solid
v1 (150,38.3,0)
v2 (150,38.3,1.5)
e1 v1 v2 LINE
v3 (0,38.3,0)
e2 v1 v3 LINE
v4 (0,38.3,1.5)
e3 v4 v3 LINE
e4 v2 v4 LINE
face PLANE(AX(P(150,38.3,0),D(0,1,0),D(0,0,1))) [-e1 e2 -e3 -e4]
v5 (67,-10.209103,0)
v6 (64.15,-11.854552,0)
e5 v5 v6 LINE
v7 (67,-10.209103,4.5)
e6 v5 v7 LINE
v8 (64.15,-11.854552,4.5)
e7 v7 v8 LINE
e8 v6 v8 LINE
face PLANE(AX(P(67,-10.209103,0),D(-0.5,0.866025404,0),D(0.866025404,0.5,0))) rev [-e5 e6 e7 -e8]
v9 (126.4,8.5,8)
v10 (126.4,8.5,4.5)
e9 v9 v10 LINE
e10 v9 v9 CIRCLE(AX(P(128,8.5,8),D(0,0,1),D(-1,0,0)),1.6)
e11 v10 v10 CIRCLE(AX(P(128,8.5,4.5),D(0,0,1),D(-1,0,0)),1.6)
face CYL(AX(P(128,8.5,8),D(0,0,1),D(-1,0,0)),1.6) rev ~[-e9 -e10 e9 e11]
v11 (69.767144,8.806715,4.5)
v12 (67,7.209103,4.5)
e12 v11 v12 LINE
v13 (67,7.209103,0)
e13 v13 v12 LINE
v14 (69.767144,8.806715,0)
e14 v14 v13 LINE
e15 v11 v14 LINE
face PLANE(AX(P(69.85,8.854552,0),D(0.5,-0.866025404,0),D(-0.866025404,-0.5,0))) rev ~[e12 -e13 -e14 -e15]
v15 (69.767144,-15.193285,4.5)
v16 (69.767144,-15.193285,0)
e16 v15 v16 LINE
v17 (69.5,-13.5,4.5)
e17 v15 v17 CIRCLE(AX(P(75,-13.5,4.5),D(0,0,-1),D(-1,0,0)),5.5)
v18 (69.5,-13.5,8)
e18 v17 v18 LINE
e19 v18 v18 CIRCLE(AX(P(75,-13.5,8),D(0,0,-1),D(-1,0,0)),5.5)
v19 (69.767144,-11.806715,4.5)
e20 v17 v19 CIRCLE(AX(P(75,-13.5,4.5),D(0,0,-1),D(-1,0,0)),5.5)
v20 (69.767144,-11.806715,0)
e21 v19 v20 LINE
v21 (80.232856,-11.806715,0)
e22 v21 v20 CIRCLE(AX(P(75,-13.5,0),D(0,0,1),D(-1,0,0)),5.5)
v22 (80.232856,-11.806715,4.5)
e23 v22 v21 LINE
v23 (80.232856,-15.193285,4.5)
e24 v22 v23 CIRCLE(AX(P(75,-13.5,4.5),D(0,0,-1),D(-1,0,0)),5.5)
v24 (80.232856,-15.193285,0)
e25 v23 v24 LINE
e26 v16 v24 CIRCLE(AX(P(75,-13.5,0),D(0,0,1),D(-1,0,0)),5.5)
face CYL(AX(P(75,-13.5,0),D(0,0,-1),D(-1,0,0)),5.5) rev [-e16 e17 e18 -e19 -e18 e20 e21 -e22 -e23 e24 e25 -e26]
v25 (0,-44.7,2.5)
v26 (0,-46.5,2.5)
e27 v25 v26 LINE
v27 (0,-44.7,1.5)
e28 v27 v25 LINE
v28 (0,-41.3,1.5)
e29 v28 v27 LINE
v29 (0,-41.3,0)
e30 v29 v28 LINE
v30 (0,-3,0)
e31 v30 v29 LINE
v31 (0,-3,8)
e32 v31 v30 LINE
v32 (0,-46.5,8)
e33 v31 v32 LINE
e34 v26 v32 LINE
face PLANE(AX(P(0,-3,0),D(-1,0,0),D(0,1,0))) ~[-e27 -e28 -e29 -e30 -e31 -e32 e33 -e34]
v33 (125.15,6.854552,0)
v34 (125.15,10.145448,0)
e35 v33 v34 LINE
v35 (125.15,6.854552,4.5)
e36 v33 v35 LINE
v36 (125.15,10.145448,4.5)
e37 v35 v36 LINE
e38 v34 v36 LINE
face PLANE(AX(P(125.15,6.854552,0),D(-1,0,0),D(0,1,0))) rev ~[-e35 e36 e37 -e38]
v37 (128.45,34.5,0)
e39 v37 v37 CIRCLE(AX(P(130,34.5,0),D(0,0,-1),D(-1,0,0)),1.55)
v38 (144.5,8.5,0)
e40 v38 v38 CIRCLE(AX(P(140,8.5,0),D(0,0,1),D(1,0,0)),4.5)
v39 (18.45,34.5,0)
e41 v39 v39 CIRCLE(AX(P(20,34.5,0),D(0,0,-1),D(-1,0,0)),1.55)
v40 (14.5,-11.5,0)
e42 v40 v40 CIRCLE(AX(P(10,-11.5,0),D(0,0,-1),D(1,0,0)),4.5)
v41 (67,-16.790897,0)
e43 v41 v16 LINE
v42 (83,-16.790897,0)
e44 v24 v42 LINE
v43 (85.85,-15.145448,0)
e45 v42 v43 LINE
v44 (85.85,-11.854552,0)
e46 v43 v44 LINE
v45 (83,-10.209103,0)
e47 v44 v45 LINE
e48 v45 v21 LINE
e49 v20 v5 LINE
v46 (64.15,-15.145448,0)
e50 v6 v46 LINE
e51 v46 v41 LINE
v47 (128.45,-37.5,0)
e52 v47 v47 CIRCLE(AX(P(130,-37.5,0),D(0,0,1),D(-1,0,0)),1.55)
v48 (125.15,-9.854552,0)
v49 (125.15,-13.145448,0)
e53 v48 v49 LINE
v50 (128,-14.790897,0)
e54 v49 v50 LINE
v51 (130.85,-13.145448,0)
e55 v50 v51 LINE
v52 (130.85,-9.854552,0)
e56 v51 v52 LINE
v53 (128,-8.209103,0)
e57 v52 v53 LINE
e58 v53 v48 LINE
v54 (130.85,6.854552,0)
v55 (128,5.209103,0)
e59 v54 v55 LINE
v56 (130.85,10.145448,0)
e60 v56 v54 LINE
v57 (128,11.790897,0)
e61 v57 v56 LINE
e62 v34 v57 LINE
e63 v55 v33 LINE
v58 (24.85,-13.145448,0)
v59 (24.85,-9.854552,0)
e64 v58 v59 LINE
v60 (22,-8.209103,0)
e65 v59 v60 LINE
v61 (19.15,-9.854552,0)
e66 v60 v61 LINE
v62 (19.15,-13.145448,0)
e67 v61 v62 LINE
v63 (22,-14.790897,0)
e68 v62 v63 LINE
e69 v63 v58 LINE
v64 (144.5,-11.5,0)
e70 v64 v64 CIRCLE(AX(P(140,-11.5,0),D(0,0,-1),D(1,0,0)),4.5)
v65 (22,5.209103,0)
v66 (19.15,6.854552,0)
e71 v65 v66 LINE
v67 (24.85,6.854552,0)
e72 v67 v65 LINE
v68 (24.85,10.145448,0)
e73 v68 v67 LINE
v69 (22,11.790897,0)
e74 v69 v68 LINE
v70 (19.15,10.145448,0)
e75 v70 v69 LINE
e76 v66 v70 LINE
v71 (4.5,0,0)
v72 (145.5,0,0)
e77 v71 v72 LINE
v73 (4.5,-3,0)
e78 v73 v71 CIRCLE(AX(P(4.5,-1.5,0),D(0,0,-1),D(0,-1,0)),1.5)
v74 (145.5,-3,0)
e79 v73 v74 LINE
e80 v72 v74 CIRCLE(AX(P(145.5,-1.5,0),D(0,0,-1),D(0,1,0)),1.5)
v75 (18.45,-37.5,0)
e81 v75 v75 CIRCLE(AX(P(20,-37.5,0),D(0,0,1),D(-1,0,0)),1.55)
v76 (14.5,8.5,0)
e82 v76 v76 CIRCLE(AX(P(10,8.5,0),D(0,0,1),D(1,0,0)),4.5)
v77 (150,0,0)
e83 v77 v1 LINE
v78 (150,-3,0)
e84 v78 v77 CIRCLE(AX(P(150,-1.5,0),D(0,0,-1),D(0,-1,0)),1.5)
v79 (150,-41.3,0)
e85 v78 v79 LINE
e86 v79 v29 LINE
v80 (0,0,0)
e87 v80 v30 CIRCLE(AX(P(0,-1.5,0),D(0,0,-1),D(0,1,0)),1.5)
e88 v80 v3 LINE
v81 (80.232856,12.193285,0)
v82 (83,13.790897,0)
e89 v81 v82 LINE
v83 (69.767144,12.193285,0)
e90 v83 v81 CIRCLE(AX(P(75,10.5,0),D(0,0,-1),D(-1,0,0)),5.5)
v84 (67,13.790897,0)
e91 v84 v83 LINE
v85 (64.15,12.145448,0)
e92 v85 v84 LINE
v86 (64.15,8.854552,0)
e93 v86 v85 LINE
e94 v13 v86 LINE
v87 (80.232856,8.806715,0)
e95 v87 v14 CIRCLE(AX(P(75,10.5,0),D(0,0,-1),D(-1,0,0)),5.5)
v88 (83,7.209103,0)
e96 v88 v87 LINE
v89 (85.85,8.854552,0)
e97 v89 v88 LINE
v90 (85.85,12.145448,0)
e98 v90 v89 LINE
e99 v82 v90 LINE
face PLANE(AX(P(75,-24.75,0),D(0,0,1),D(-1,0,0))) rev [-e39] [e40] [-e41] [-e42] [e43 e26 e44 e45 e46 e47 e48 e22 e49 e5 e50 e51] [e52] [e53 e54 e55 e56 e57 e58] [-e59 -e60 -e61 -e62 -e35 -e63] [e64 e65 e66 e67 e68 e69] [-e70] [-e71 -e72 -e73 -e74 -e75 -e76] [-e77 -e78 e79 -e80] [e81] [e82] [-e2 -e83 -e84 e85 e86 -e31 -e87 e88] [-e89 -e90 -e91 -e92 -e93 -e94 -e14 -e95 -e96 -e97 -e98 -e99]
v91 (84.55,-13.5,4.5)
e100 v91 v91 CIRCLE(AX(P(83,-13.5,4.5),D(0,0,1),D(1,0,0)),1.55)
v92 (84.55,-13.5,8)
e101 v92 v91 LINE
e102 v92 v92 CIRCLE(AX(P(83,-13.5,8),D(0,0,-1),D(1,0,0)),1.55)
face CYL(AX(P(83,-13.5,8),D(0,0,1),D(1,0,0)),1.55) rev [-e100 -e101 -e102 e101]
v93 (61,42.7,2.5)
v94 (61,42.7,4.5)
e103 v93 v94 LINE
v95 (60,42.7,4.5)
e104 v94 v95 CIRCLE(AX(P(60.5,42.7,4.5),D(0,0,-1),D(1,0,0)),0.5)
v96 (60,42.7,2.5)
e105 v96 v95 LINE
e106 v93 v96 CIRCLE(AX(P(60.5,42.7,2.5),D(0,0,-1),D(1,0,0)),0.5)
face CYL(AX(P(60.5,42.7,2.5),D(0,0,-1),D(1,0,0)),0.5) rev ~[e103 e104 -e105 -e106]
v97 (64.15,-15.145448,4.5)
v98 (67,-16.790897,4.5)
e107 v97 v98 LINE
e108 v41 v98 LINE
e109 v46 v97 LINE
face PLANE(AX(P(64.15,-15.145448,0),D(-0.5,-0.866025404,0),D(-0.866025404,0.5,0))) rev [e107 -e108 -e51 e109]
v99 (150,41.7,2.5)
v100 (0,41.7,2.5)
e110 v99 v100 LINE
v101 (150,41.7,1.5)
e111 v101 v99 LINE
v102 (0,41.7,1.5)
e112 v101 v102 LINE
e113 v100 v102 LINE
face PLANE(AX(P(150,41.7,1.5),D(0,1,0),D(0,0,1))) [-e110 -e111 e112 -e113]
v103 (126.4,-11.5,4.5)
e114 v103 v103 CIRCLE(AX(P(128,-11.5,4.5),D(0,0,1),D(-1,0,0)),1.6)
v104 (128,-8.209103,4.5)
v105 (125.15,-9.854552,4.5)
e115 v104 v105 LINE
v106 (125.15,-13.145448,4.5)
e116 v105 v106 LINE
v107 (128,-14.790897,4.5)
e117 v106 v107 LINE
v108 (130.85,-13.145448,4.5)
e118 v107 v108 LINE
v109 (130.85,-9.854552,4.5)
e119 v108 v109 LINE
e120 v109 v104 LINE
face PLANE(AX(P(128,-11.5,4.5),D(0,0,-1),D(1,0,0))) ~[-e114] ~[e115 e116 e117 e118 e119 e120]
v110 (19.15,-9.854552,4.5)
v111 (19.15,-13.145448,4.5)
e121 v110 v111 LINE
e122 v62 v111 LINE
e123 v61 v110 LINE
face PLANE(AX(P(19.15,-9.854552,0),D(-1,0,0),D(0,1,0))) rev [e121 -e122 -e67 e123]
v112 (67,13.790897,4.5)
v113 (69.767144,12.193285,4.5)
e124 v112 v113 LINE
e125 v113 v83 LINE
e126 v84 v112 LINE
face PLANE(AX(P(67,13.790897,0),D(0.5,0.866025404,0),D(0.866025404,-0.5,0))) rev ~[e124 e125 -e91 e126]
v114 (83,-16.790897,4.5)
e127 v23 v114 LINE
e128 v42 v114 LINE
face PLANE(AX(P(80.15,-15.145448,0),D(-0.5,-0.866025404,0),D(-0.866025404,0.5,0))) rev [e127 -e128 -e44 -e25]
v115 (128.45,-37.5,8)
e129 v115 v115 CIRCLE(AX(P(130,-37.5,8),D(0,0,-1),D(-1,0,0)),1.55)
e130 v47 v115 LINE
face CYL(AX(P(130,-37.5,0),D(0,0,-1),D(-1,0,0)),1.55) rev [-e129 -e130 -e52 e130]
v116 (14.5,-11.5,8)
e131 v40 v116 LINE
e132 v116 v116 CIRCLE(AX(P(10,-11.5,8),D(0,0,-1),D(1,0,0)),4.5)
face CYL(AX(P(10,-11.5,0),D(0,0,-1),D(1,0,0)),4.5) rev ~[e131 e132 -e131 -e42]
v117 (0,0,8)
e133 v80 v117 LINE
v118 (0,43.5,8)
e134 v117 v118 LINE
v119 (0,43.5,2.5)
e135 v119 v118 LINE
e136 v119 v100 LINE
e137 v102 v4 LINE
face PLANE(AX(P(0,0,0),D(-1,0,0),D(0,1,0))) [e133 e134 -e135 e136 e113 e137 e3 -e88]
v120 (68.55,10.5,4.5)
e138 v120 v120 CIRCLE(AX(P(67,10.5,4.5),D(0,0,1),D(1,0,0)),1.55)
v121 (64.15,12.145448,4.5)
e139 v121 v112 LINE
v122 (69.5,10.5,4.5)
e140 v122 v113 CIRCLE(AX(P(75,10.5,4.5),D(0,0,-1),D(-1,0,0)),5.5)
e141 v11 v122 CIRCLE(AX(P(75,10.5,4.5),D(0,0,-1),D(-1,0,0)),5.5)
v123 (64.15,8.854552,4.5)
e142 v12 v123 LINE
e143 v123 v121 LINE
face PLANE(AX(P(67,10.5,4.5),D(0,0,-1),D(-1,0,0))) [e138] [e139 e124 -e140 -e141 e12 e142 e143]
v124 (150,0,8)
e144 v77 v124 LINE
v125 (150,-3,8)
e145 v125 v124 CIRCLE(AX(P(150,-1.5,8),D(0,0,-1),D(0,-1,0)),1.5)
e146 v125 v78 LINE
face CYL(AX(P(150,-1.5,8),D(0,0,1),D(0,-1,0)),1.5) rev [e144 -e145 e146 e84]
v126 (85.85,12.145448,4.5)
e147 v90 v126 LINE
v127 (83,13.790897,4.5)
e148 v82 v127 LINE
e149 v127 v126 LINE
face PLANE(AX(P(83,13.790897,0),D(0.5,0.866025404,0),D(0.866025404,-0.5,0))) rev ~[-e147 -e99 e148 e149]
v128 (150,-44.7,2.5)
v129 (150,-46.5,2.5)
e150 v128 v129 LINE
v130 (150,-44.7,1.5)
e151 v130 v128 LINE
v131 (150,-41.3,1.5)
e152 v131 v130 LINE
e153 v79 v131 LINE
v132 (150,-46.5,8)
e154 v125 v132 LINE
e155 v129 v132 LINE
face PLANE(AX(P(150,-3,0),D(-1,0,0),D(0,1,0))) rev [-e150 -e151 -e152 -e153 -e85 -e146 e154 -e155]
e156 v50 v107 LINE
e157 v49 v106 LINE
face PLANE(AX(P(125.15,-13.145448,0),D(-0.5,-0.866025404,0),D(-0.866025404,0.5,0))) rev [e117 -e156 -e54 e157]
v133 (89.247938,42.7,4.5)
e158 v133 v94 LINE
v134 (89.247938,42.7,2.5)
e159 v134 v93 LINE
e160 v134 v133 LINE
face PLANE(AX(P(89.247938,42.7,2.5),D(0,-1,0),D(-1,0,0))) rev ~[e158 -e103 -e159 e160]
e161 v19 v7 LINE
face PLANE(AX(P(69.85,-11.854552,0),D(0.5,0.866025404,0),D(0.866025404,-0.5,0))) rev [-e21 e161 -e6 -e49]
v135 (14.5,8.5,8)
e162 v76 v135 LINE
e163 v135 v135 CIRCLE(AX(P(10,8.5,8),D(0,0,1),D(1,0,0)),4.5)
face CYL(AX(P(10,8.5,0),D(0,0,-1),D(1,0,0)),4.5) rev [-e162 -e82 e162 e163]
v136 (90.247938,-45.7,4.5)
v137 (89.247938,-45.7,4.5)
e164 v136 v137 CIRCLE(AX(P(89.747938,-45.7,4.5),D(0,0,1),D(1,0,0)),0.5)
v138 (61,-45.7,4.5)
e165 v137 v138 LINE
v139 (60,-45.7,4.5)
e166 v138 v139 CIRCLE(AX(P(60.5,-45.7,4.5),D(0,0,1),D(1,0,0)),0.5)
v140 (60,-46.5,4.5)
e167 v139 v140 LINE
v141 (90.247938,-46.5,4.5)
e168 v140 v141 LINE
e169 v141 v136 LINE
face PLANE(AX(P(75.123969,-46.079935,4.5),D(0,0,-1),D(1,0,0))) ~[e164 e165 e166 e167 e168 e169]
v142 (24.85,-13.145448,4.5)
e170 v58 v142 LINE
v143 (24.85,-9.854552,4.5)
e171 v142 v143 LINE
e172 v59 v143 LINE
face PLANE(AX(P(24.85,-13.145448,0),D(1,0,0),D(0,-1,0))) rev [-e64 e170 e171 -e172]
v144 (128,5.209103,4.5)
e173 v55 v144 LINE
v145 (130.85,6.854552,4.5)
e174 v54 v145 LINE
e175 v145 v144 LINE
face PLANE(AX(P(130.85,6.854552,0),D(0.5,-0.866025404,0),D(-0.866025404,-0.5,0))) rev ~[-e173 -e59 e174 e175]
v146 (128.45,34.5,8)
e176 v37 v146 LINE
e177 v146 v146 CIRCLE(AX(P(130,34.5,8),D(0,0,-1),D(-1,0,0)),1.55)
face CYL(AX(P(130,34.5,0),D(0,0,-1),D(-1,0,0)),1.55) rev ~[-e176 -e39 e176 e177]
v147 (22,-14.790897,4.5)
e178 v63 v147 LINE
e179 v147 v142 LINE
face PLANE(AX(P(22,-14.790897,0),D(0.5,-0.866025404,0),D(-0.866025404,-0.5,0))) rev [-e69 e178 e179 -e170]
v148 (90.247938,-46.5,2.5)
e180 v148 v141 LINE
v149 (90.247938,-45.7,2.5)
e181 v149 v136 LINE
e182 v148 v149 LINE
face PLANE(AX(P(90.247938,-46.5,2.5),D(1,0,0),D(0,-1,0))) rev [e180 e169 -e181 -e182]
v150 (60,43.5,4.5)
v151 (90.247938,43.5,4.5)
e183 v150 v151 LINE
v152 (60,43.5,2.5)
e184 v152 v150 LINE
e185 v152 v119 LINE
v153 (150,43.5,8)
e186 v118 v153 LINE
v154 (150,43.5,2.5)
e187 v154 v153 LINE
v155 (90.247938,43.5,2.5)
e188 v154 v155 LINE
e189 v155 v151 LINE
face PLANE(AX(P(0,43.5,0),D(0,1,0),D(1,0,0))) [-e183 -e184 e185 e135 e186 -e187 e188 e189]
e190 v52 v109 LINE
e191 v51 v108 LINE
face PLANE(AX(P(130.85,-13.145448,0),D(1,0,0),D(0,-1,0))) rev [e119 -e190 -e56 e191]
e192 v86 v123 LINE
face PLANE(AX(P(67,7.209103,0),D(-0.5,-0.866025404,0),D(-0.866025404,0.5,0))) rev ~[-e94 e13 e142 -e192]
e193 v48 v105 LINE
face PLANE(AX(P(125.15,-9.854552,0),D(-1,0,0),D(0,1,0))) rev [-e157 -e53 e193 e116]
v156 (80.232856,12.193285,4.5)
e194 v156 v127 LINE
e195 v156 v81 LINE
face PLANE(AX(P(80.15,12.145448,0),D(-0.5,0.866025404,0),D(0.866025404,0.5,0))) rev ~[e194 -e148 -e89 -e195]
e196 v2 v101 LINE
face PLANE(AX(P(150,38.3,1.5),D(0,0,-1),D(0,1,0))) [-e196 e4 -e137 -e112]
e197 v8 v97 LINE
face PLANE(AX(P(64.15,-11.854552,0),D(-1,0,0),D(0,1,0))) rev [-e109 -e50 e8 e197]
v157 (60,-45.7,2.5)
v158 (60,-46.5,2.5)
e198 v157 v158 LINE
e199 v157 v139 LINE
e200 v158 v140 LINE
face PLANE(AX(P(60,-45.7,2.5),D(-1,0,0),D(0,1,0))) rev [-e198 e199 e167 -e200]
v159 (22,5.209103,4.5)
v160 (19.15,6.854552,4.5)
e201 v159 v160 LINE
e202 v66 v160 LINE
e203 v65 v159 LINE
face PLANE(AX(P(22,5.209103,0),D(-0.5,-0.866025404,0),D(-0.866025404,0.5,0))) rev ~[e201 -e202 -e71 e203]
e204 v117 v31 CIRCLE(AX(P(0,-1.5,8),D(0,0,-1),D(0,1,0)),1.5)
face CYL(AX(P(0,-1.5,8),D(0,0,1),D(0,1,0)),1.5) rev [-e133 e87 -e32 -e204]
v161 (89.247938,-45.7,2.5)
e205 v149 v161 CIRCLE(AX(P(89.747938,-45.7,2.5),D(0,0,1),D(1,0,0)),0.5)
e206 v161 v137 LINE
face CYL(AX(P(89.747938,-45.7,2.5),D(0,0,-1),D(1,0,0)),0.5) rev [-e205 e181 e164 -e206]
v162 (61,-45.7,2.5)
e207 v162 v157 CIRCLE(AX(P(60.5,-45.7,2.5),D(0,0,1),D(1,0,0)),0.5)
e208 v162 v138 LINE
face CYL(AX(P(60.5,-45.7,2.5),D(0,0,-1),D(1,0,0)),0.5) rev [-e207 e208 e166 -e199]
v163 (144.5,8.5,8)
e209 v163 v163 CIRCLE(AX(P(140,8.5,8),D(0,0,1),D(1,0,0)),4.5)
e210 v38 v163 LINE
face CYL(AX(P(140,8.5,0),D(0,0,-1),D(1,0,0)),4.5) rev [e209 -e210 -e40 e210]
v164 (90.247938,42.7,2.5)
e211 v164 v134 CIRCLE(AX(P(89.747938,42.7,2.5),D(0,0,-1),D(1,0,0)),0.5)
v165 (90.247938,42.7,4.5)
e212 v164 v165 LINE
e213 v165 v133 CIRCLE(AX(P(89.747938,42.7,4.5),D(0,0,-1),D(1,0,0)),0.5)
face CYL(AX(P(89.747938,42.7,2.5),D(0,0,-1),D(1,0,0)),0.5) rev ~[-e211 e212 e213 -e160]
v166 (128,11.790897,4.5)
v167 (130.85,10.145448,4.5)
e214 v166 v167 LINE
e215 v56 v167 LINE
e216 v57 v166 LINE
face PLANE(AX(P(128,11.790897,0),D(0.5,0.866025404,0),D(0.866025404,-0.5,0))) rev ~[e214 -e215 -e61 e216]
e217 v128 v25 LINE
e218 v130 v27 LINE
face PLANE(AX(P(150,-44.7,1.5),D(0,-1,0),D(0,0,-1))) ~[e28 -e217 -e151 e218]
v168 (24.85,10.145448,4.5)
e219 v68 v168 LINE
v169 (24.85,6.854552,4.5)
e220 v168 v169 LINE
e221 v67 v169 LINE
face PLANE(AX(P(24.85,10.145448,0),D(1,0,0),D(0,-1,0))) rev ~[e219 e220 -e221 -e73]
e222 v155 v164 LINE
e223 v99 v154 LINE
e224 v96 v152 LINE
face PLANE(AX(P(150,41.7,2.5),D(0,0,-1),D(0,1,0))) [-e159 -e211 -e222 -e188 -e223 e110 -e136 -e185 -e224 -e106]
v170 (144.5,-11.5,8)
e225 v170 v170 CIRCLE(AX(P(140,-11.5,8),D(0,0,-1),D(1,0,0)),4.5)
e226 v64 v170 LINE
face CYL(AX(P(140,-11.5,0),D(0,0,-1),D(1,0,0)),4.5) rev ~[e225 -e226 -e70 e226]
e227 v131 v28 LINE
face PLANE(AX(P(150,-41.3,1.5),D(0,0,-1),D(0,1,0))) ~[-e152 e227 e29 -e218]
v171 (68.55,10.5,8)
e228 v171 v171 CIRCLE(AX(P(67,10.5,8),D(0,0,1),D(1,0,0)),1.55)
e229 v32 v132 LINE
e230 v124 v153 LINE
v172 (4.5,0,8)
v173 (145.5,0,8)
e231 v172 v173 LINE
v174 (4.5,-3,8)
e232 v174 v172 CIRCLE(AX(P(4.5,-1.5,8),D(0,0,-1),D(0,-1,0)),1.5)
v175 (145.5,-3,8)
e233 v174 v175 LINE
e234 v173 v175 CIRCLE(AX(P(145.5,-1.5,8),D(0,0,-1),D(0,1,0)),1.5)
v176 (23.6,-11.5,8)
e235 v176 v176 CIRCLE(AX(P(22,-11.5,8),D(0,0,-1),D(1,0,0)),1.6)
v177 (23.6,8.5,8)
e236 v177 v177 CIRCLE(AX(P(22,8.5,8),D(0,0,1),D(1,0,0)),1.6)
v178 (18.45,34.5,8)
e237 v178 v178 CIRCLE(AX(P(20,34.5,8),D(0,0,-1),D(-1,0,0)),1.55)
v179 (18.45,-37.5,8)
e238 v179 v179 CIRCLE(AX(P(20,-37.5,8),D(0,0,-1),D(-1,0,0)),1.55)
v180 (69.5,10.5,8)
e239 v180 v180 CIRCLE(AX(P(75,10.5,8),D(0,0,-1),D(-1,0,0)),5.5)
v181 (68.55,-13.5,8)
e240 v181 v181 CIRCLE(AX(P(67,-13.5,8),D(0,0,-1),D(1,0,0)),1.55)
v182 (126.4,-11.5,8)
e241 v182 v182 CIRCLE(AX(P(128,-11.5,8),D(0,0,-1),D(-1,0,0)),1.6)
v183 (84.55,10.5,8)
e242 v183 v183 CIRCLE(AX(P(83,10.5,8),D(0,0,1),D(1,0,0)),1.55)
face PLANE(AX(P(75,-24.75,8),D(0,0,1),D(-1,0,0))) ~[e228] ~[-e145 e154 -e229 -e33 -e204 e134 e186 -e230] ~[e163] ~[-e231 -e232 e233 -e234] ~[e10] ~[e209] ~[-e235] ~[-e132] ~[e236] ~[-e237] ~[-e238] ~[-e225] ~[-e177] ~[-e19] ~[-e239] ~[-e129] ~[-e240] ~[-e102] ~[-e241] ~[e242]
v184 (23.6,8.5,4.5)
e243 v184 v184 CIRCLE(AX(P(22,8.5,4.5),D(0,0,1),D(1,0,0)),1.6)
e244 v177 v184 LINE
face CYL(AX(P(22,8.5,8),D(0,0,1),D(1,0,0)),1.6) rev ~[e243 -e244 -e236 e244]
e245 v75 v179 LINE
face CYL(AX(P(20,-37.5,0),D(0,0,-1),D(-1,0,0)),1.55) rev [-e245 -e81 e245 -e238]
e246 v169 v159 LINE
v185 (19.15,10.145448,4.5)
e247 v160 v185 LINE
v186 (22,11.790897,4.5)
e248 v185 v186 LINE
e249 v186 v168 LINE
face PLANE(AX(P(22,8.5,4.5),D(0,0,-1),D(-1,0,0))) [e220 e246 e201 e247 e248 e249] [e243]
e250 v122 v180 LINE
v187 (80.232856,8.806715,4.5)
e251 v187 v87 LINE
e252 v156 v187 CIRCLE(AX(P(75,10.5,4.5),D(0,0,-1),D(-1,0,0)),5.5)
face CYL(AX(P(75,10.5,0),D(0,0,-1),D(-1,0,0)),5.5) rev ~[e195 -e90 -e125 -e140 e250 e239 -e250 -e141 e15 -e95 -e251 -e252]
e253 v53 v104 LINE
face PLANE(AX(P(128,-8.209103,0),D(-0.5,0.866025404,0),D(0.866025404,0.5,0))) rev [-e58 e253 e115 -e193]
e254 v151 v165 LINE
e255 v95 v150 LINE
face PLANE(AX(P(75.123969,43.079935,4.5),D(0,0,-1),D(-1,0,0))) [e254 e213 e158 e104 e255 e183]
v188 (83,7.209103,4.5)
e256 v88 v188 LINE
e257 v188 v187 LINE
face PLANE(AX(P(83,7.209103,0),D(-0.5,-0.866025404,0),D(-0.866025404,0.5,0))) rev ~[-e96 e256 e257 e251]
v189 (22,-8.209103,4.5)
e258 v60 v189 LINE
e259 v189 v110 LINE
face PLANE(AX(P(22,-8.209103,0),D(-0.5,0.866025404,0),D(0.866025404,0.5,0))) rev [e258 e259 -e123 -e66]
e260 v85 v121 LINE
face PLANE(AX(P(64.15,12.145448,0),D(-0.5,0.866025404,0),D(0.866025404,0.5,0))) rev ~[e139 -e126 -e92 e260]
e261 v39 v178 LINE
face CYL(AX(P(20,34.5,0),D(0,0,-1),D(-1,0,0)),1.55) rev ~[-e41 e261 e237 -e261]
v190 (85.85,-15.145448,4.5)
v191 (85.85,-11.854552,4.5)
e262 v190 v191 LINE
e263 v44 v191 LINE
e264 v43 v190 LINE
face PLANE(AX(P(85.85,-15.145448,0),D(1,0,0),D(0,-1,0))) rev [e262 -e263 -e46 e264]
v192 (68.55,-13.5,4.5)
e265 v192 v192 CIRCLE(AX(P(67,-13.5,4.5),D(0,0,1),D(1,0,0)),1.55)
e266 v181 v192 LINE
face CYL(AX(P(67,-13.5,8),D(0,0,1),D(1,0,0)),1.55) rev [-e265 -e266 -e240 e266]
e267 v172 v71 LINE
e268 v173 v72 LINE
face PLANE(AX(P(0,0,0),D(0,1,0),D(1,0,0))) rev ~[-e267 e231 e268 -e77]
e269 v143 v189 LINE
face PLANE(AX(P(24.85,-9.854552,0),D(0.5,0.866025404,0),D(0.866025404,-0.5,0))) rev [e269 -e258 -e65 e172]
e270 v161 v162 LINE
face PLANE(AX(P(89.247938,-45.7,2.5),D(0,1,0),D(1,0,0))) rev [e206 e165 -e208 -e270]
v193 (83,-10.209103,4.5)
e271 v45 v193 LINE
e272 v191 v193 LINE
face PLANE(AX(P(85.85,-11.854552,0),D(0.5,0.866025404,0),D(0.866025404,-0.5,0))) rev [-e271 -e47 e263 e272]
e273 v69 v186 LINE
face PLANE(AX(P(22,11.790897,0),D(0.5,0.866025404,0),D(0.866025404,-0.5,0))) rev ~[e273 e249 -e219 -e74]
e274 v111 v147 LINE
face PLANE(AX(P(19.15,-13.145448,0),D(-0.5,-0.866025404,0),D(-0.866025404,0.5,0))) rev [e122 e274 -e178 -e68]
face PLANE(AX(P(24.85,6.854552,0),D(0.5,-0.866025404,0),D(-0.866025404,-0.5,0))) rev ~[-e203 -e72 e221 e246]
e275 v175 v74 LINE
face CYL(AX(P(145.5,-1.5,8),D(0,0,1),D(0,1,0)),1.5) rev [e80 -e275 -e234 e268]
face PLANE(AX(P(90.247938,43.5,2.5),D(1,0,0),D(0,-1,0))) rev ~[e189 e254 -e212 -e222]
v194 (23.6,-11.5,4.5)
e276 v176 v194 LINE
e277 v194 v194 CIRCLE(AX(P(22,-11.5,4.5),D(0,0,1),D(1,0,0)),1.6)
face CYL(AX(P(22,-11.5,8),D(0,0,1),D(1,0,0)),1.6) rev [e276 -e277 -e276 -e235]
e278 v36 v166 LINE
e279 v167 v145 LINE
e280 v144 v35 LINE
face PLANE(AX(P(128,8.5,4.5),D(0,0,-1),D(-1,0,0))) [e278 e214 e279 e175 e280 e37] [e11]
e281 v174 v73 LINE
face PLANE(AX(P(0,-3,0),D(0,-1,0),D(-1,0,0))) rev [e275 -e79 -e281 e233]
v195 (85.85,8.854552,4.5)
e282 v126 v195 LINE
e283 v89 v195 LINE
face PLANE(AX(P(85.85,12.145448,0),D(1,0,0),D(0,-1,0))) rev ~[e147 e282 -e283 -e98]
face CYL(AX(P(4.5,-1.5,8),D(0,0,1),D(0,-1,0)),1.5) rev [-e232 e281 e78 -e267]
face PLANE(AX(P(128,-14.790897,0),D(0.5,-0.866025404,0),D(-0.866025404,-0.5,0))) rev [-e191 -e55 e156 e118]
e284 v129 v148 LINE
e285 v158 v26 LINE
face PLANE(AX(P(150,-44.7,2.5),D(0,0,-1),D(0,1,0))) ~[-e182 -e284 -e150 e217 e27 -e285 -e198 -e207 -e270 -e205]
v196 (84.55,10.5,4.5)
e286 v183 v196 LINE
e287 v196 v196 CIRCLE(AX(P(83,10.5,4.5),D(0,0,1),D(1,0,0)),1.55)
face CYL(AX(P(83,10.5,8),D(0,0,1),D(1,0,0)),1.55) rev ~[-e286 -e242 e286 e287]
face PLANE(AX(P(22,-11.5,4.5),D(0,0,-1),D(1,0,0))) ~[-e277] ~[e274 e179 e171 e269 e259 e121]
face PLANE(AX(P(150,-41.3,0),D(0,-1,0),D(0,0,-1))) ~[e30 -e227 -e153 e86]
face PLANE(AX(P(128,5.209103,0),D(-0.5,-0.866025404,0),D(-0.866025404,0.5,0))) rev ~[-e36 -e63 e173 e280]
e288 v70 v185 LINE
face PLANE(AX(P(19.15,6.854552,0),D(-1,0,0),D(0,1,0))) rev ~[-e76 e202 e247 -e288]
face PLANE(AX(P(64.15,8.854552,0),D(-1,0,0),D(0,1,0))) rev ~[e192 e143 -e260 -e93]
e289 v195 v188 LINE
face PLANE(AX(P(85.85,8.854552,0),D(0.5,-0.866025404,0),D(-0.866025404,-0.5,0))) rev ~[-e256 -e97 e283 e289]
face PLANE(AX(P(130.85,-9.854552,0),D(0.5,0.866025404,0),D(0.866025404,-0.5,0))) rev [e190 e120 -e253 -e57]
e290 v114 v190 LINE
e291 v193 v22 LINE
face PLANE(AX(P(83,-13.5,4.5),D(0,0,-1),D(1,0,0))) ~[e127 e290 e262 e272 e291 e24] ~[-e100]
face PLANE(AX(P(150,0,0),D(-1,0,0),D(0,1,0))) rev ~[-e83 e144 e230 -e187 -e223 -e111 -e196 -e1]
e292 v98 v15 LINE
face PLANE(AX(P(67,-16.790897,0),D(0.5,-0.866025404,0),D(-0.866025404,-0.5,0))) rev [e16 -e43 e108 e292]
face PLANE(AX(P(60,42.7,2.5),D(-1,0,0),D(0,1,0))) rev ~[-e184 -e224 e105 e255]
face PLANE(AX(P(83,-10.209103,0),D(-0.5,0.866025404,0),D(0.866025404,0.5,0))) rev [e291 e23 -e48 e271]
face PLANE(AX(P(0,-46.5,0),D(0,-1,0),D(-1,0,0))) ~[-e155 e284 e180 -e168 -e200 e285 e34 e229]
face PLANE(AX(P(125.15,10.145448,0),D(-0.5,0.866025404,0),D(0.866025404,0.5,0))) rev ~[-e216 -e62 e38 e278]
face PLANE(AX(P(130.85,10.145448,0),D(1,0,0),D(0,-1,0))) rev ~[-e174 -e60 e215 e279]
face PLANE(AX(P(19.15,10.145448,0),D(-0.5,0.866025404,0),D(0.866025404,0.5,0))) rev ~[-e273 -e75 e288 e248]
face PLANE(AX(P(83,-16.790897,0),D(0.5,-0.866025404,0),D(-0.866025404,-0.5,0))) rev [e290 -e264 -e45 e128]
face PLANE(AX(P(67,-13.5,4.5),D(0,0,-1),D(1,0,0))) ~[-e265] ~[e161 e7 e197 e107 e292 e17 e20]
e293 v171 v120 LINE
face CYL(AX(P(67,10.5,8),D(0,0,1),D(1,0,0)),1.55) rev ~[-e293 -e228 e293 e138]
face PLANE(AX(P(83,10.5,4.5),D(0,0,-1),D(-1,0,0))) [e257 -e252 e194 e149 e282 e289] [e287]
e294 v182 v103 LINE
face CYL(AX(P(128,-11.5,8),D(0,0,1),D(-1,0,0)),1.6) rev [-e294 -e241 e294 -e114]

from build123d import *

# Parameters (mm, degrees)
SKETCH_2_W           = 150
SKETCH_2_H           = 43.5
SKETCH_2_R           = 4.5
SKETCH_2_R_2         = 4.05
EXTRUDE_1_DEPTH      = 8
CUT_EXTRUDE_2_DEPTH  = 157.38494173
SKETCH_5_R           = 1.55
CUT_EXTRUDE_3_DEPTH  = 157.38494173
SKETCH_20_R          = 5.5
CUT_EXTRUDE_17_DEPTH = 157.38494173
SKETCH_29_R          = 1.6
CUT_EXTRUDE_18_DEPTH = 157.38494173
CUT_EXTRUDE_5_DEPTH  = 4.5
SKETCH_25_R          = 1.55
CUT_EXTRUDE_13_DEPTH = 157.38494173
CUT_EXTRUDE_11_DEPTH = 2
EXTRUDE_2_DEPTH      = 8


with BuildPart() as part:
    # 草图2 → 凸台-拉伸1 (new body)
    with BuildSketch(Plane.XY):
        with Locations((75, 21.75)):
            Rectangle(SKETCH_2_W, SKETCH_2_H)
        with Locations((10, 8.5)):
            Circle(SKETCH_2_R, mode=Mode.SUBTRACT)
        with Locations((75, 10.5)):
            Circle(SKETCH_2_R_2, mode=Mode.SUBTRACT)
        with Locations((140, 8.5)):
            Circle(SKETCH_2_R, mode=Mode.SUBTRACT)
    extrude_1 = extrude(amount=EXTRUDE_1_DEPTH)

    # 草图4 → 切除-拉伸2 (cut, through all)
    with BuildSketch(Plane(origin=(150, 0, 0), x_dir=(0, 0, -1), z_dir=(1, 0, 0))):
        Polygon((-1.5, 41.7), (-2.5, 41.7), (-2.5, 43.5), (0, 43.5), (0, 38.3), (-1.5, 38.3), align=None)
    cut_extrude_2 = extrude(amount=-CUT_EXTRUDE_2_DEPTH, mode=Mode.SUBTRACT)

    # 草图5 → 切除-拉伸3 (cut, through all)
    with BuildSketch(Plane.XY.offset(8)):
        with Locations((83, 10.5)):
            Circle(SKETCH_5_R)
        with Locations((67, 10.5)):
            Circle(SKETCH_5_R)
    cut_extrude_3 = extrude(amount=-CUT_EXTRUDE_3_DEPTH, mode=Mode.SUBTRACT)

    # 草图20 → 切除-拉伸17 (cut, through all)
    with BuildSketch(Plane(origin=(0, 0, 0), x_dir=(-1, 0, 0), z_dir=(0, 0, -1))):
        with Locations((-75, 10.5)):
            Circle(SKETCH_20_R)
    cut_extrude_17 = extrude(amount=-CUT_EXTRUDE_17_DEPTH, mode=Mode.SUBTRACT)

    # 草图29 → 切除-拉伸18 (cut, through all)
    with BuildSketch(Plane.XY.offset(8)):
        with Locations((22, 8.5)):
            Circle(SKETCH_29_R)
        with Locations(Location((128, 8.5, 0), (0, 0, 180))):
            Circle(SKETCH_29_R)
    cut_extrude_18 = extrude(amount=-CUT_EXTRUDE_18_DEPTH, mode=Mode.SUBTRACT)

    # 草图8 → 切除-拉伸5 (cut)
    with BuildSketch(Plane(origin=(0, 0, 0), x_dir=(-1, 0, 0), z_dir=(0, 0, -1))):
        Polygon((-80.15, 8.854551733), (-80.15, 12.145448267), (-83, 13.790896534), (-85.85, 12.145448267), (-85.85, 8.854551733), (-83, 7.209103466), align=None)
        Polygon((-64.15, 8.854551733), (-64.15, 12.145448267), (-67, 13.790896534), (-69.85, 12.145448267), (-69.85, 8.854551733), (-67, 7.209103466), align=None)
        Polygon((-22, 5.209103466), (-19.15, 6.854551733), (-19.15, 10.145448267), (-22, 11.790896534), (-24.85, 10.145448267), (-24.85, 6.854551733), align=None)
        Polygon((-125.15, 6.854551733), (-125.15, 10.145448267), (-128, 11.790896534), (-130.85, 10.145448267), (-130.85, 6.854551733), (-128, 5.209103466), align=None)
    cut_extrude_5 = extrude(amount=-CUT_EXTRUDE_5_DEPTH, mode=Mode.SUBTRACT)

    # 草图25 → 切除-拉伸13 (cut, through all)
    with BuildSketch(Plane(origin=(0, 0, 0), x_dir=(-1, 0, 0), z_dir=(0, 0, -1))):
        with Locations((-130, 34.5)):
            Circle(SKETCH_25_R)
        with Locations((-20, 34.5)):
            Circle(SKETCH_25_R)
    cut_extrude_13 = extrude(amount=-CUT_EXTRUDE_13_DEPTH, mode=Mode.SUBTRACT)

    # 草图19 → 切除-拉伸11 (cut)
    with BuildSketch(Plane(origin=(0, 0, 2.5), x_dir=(-1, 0, 0), z_dir=(0, 0, -1))):
        with BuildLine():
            Line((-60, 43.5), (-90.247938178, 43.5))
            Line((-90.247938178, 43.5), (-90.247938178, 42.7))
            ThreePointArc((-90.247938178, 42.7), (-89.747938178, 42.2), (-89.247938178, 42.7))
            Line((-89.247938178, 42.7), (-61, 42.7))
            ThreePointArc((-61, 42.7), (-60.5, 42.2), (-60, 42.7))
            Line((-60, 42.7), (-60, 43.5))
        make_face()
    cut_extrude_11 = extrude(amount=-CUT_EXTRUDE_11_DEPTH, mode=Mode.SUBTRACT)

    # 草图22 → 凸台-拉伸2 (add)
    with BuildSketch(Plane.XY.offset(8)):
        with BuildLine():
            Line((0, -3), (4.5, -3))
            ThreePointArc((4.5, -3), (3, -1.5), (4.5, 0))
            Line((4.5, 0), (0, 0))
            ThreePointArc((0, 0), (1.5, -1.5), (0, -3))
        make_face()
        with BuildLine():
            Line((150, 0), (145.5, 0))
            ThreePointArc((145.5, 0), (147, -1.5), (145.5, -3))
            Line((145.5, -3), (150, -3))
            ThreePointArc((150, -3), (148.5, -1.5), (150, 0))
        make_face()
    extrude(amount=-EXTRUDE_2_DEPTH)

    # 镜向2: 凸台-拉伸1, 切除-拉伸2, 切除-拉伸3, 切除-拉伸17, 切除-拉伸18, 切除-拉伸5, 切除-拉伸13, 切除-拉伸11 across plane
    add(extrude_1.mirror(Plane(origin=(0, -1.5, 0), x_dir=(0, 0, 1), z_dir=(0, -1, 0))))
    add(cut_extrude_2.mirror(Plane(origin=(0, -1.5, 0), x_dir=(0, 0, 1), z_dir=(0, -1, 0))), mode=Mode.SUBTRACT)
    add(cut_extrude_3.mirror(Plane(origin=(0, -1.5, 0), x_dir=(0, 0, 1), z_dir=(0, -1, 0))), mode=Mode.SUBTRACT)
    add(cut_extrude_17.mirror(Plane(origin=(0, -1.5, 0), x_dir=(0, 0, 1), z_dir=(0, -1, 0))), mode=Mode.SUBTRACT)
    add(cut_extrude_18.mirror(Plane(origin=(0, -1.5, 0), x_dir=(0, 0, 1), z_dir=(0, -1, 0))), mode=Mode.SUBTRACT)
    add(cut_extrude_5.mirror(Plane(origin=(0, -1.5, 0), x_dir=(0, 0, 1), z_dir=(0, -1, 0))), mode=Mode.SUBTRACT)
    add(cut_extrude_13.mirror(Plane(origin=(0, -1.5, 0), x_dir=(0, 0, 1), z_dir=(0, -1, 0))), mode=Mode.SUBTRACT)
    add(cut_extrude_11.mirror(Plane(origin=(0, -1.5, 0), x_dir=(0, 0, 1), z_dir=(0, -1, 0))), mode=Mode.SUBTRACT)


solid = part.part
